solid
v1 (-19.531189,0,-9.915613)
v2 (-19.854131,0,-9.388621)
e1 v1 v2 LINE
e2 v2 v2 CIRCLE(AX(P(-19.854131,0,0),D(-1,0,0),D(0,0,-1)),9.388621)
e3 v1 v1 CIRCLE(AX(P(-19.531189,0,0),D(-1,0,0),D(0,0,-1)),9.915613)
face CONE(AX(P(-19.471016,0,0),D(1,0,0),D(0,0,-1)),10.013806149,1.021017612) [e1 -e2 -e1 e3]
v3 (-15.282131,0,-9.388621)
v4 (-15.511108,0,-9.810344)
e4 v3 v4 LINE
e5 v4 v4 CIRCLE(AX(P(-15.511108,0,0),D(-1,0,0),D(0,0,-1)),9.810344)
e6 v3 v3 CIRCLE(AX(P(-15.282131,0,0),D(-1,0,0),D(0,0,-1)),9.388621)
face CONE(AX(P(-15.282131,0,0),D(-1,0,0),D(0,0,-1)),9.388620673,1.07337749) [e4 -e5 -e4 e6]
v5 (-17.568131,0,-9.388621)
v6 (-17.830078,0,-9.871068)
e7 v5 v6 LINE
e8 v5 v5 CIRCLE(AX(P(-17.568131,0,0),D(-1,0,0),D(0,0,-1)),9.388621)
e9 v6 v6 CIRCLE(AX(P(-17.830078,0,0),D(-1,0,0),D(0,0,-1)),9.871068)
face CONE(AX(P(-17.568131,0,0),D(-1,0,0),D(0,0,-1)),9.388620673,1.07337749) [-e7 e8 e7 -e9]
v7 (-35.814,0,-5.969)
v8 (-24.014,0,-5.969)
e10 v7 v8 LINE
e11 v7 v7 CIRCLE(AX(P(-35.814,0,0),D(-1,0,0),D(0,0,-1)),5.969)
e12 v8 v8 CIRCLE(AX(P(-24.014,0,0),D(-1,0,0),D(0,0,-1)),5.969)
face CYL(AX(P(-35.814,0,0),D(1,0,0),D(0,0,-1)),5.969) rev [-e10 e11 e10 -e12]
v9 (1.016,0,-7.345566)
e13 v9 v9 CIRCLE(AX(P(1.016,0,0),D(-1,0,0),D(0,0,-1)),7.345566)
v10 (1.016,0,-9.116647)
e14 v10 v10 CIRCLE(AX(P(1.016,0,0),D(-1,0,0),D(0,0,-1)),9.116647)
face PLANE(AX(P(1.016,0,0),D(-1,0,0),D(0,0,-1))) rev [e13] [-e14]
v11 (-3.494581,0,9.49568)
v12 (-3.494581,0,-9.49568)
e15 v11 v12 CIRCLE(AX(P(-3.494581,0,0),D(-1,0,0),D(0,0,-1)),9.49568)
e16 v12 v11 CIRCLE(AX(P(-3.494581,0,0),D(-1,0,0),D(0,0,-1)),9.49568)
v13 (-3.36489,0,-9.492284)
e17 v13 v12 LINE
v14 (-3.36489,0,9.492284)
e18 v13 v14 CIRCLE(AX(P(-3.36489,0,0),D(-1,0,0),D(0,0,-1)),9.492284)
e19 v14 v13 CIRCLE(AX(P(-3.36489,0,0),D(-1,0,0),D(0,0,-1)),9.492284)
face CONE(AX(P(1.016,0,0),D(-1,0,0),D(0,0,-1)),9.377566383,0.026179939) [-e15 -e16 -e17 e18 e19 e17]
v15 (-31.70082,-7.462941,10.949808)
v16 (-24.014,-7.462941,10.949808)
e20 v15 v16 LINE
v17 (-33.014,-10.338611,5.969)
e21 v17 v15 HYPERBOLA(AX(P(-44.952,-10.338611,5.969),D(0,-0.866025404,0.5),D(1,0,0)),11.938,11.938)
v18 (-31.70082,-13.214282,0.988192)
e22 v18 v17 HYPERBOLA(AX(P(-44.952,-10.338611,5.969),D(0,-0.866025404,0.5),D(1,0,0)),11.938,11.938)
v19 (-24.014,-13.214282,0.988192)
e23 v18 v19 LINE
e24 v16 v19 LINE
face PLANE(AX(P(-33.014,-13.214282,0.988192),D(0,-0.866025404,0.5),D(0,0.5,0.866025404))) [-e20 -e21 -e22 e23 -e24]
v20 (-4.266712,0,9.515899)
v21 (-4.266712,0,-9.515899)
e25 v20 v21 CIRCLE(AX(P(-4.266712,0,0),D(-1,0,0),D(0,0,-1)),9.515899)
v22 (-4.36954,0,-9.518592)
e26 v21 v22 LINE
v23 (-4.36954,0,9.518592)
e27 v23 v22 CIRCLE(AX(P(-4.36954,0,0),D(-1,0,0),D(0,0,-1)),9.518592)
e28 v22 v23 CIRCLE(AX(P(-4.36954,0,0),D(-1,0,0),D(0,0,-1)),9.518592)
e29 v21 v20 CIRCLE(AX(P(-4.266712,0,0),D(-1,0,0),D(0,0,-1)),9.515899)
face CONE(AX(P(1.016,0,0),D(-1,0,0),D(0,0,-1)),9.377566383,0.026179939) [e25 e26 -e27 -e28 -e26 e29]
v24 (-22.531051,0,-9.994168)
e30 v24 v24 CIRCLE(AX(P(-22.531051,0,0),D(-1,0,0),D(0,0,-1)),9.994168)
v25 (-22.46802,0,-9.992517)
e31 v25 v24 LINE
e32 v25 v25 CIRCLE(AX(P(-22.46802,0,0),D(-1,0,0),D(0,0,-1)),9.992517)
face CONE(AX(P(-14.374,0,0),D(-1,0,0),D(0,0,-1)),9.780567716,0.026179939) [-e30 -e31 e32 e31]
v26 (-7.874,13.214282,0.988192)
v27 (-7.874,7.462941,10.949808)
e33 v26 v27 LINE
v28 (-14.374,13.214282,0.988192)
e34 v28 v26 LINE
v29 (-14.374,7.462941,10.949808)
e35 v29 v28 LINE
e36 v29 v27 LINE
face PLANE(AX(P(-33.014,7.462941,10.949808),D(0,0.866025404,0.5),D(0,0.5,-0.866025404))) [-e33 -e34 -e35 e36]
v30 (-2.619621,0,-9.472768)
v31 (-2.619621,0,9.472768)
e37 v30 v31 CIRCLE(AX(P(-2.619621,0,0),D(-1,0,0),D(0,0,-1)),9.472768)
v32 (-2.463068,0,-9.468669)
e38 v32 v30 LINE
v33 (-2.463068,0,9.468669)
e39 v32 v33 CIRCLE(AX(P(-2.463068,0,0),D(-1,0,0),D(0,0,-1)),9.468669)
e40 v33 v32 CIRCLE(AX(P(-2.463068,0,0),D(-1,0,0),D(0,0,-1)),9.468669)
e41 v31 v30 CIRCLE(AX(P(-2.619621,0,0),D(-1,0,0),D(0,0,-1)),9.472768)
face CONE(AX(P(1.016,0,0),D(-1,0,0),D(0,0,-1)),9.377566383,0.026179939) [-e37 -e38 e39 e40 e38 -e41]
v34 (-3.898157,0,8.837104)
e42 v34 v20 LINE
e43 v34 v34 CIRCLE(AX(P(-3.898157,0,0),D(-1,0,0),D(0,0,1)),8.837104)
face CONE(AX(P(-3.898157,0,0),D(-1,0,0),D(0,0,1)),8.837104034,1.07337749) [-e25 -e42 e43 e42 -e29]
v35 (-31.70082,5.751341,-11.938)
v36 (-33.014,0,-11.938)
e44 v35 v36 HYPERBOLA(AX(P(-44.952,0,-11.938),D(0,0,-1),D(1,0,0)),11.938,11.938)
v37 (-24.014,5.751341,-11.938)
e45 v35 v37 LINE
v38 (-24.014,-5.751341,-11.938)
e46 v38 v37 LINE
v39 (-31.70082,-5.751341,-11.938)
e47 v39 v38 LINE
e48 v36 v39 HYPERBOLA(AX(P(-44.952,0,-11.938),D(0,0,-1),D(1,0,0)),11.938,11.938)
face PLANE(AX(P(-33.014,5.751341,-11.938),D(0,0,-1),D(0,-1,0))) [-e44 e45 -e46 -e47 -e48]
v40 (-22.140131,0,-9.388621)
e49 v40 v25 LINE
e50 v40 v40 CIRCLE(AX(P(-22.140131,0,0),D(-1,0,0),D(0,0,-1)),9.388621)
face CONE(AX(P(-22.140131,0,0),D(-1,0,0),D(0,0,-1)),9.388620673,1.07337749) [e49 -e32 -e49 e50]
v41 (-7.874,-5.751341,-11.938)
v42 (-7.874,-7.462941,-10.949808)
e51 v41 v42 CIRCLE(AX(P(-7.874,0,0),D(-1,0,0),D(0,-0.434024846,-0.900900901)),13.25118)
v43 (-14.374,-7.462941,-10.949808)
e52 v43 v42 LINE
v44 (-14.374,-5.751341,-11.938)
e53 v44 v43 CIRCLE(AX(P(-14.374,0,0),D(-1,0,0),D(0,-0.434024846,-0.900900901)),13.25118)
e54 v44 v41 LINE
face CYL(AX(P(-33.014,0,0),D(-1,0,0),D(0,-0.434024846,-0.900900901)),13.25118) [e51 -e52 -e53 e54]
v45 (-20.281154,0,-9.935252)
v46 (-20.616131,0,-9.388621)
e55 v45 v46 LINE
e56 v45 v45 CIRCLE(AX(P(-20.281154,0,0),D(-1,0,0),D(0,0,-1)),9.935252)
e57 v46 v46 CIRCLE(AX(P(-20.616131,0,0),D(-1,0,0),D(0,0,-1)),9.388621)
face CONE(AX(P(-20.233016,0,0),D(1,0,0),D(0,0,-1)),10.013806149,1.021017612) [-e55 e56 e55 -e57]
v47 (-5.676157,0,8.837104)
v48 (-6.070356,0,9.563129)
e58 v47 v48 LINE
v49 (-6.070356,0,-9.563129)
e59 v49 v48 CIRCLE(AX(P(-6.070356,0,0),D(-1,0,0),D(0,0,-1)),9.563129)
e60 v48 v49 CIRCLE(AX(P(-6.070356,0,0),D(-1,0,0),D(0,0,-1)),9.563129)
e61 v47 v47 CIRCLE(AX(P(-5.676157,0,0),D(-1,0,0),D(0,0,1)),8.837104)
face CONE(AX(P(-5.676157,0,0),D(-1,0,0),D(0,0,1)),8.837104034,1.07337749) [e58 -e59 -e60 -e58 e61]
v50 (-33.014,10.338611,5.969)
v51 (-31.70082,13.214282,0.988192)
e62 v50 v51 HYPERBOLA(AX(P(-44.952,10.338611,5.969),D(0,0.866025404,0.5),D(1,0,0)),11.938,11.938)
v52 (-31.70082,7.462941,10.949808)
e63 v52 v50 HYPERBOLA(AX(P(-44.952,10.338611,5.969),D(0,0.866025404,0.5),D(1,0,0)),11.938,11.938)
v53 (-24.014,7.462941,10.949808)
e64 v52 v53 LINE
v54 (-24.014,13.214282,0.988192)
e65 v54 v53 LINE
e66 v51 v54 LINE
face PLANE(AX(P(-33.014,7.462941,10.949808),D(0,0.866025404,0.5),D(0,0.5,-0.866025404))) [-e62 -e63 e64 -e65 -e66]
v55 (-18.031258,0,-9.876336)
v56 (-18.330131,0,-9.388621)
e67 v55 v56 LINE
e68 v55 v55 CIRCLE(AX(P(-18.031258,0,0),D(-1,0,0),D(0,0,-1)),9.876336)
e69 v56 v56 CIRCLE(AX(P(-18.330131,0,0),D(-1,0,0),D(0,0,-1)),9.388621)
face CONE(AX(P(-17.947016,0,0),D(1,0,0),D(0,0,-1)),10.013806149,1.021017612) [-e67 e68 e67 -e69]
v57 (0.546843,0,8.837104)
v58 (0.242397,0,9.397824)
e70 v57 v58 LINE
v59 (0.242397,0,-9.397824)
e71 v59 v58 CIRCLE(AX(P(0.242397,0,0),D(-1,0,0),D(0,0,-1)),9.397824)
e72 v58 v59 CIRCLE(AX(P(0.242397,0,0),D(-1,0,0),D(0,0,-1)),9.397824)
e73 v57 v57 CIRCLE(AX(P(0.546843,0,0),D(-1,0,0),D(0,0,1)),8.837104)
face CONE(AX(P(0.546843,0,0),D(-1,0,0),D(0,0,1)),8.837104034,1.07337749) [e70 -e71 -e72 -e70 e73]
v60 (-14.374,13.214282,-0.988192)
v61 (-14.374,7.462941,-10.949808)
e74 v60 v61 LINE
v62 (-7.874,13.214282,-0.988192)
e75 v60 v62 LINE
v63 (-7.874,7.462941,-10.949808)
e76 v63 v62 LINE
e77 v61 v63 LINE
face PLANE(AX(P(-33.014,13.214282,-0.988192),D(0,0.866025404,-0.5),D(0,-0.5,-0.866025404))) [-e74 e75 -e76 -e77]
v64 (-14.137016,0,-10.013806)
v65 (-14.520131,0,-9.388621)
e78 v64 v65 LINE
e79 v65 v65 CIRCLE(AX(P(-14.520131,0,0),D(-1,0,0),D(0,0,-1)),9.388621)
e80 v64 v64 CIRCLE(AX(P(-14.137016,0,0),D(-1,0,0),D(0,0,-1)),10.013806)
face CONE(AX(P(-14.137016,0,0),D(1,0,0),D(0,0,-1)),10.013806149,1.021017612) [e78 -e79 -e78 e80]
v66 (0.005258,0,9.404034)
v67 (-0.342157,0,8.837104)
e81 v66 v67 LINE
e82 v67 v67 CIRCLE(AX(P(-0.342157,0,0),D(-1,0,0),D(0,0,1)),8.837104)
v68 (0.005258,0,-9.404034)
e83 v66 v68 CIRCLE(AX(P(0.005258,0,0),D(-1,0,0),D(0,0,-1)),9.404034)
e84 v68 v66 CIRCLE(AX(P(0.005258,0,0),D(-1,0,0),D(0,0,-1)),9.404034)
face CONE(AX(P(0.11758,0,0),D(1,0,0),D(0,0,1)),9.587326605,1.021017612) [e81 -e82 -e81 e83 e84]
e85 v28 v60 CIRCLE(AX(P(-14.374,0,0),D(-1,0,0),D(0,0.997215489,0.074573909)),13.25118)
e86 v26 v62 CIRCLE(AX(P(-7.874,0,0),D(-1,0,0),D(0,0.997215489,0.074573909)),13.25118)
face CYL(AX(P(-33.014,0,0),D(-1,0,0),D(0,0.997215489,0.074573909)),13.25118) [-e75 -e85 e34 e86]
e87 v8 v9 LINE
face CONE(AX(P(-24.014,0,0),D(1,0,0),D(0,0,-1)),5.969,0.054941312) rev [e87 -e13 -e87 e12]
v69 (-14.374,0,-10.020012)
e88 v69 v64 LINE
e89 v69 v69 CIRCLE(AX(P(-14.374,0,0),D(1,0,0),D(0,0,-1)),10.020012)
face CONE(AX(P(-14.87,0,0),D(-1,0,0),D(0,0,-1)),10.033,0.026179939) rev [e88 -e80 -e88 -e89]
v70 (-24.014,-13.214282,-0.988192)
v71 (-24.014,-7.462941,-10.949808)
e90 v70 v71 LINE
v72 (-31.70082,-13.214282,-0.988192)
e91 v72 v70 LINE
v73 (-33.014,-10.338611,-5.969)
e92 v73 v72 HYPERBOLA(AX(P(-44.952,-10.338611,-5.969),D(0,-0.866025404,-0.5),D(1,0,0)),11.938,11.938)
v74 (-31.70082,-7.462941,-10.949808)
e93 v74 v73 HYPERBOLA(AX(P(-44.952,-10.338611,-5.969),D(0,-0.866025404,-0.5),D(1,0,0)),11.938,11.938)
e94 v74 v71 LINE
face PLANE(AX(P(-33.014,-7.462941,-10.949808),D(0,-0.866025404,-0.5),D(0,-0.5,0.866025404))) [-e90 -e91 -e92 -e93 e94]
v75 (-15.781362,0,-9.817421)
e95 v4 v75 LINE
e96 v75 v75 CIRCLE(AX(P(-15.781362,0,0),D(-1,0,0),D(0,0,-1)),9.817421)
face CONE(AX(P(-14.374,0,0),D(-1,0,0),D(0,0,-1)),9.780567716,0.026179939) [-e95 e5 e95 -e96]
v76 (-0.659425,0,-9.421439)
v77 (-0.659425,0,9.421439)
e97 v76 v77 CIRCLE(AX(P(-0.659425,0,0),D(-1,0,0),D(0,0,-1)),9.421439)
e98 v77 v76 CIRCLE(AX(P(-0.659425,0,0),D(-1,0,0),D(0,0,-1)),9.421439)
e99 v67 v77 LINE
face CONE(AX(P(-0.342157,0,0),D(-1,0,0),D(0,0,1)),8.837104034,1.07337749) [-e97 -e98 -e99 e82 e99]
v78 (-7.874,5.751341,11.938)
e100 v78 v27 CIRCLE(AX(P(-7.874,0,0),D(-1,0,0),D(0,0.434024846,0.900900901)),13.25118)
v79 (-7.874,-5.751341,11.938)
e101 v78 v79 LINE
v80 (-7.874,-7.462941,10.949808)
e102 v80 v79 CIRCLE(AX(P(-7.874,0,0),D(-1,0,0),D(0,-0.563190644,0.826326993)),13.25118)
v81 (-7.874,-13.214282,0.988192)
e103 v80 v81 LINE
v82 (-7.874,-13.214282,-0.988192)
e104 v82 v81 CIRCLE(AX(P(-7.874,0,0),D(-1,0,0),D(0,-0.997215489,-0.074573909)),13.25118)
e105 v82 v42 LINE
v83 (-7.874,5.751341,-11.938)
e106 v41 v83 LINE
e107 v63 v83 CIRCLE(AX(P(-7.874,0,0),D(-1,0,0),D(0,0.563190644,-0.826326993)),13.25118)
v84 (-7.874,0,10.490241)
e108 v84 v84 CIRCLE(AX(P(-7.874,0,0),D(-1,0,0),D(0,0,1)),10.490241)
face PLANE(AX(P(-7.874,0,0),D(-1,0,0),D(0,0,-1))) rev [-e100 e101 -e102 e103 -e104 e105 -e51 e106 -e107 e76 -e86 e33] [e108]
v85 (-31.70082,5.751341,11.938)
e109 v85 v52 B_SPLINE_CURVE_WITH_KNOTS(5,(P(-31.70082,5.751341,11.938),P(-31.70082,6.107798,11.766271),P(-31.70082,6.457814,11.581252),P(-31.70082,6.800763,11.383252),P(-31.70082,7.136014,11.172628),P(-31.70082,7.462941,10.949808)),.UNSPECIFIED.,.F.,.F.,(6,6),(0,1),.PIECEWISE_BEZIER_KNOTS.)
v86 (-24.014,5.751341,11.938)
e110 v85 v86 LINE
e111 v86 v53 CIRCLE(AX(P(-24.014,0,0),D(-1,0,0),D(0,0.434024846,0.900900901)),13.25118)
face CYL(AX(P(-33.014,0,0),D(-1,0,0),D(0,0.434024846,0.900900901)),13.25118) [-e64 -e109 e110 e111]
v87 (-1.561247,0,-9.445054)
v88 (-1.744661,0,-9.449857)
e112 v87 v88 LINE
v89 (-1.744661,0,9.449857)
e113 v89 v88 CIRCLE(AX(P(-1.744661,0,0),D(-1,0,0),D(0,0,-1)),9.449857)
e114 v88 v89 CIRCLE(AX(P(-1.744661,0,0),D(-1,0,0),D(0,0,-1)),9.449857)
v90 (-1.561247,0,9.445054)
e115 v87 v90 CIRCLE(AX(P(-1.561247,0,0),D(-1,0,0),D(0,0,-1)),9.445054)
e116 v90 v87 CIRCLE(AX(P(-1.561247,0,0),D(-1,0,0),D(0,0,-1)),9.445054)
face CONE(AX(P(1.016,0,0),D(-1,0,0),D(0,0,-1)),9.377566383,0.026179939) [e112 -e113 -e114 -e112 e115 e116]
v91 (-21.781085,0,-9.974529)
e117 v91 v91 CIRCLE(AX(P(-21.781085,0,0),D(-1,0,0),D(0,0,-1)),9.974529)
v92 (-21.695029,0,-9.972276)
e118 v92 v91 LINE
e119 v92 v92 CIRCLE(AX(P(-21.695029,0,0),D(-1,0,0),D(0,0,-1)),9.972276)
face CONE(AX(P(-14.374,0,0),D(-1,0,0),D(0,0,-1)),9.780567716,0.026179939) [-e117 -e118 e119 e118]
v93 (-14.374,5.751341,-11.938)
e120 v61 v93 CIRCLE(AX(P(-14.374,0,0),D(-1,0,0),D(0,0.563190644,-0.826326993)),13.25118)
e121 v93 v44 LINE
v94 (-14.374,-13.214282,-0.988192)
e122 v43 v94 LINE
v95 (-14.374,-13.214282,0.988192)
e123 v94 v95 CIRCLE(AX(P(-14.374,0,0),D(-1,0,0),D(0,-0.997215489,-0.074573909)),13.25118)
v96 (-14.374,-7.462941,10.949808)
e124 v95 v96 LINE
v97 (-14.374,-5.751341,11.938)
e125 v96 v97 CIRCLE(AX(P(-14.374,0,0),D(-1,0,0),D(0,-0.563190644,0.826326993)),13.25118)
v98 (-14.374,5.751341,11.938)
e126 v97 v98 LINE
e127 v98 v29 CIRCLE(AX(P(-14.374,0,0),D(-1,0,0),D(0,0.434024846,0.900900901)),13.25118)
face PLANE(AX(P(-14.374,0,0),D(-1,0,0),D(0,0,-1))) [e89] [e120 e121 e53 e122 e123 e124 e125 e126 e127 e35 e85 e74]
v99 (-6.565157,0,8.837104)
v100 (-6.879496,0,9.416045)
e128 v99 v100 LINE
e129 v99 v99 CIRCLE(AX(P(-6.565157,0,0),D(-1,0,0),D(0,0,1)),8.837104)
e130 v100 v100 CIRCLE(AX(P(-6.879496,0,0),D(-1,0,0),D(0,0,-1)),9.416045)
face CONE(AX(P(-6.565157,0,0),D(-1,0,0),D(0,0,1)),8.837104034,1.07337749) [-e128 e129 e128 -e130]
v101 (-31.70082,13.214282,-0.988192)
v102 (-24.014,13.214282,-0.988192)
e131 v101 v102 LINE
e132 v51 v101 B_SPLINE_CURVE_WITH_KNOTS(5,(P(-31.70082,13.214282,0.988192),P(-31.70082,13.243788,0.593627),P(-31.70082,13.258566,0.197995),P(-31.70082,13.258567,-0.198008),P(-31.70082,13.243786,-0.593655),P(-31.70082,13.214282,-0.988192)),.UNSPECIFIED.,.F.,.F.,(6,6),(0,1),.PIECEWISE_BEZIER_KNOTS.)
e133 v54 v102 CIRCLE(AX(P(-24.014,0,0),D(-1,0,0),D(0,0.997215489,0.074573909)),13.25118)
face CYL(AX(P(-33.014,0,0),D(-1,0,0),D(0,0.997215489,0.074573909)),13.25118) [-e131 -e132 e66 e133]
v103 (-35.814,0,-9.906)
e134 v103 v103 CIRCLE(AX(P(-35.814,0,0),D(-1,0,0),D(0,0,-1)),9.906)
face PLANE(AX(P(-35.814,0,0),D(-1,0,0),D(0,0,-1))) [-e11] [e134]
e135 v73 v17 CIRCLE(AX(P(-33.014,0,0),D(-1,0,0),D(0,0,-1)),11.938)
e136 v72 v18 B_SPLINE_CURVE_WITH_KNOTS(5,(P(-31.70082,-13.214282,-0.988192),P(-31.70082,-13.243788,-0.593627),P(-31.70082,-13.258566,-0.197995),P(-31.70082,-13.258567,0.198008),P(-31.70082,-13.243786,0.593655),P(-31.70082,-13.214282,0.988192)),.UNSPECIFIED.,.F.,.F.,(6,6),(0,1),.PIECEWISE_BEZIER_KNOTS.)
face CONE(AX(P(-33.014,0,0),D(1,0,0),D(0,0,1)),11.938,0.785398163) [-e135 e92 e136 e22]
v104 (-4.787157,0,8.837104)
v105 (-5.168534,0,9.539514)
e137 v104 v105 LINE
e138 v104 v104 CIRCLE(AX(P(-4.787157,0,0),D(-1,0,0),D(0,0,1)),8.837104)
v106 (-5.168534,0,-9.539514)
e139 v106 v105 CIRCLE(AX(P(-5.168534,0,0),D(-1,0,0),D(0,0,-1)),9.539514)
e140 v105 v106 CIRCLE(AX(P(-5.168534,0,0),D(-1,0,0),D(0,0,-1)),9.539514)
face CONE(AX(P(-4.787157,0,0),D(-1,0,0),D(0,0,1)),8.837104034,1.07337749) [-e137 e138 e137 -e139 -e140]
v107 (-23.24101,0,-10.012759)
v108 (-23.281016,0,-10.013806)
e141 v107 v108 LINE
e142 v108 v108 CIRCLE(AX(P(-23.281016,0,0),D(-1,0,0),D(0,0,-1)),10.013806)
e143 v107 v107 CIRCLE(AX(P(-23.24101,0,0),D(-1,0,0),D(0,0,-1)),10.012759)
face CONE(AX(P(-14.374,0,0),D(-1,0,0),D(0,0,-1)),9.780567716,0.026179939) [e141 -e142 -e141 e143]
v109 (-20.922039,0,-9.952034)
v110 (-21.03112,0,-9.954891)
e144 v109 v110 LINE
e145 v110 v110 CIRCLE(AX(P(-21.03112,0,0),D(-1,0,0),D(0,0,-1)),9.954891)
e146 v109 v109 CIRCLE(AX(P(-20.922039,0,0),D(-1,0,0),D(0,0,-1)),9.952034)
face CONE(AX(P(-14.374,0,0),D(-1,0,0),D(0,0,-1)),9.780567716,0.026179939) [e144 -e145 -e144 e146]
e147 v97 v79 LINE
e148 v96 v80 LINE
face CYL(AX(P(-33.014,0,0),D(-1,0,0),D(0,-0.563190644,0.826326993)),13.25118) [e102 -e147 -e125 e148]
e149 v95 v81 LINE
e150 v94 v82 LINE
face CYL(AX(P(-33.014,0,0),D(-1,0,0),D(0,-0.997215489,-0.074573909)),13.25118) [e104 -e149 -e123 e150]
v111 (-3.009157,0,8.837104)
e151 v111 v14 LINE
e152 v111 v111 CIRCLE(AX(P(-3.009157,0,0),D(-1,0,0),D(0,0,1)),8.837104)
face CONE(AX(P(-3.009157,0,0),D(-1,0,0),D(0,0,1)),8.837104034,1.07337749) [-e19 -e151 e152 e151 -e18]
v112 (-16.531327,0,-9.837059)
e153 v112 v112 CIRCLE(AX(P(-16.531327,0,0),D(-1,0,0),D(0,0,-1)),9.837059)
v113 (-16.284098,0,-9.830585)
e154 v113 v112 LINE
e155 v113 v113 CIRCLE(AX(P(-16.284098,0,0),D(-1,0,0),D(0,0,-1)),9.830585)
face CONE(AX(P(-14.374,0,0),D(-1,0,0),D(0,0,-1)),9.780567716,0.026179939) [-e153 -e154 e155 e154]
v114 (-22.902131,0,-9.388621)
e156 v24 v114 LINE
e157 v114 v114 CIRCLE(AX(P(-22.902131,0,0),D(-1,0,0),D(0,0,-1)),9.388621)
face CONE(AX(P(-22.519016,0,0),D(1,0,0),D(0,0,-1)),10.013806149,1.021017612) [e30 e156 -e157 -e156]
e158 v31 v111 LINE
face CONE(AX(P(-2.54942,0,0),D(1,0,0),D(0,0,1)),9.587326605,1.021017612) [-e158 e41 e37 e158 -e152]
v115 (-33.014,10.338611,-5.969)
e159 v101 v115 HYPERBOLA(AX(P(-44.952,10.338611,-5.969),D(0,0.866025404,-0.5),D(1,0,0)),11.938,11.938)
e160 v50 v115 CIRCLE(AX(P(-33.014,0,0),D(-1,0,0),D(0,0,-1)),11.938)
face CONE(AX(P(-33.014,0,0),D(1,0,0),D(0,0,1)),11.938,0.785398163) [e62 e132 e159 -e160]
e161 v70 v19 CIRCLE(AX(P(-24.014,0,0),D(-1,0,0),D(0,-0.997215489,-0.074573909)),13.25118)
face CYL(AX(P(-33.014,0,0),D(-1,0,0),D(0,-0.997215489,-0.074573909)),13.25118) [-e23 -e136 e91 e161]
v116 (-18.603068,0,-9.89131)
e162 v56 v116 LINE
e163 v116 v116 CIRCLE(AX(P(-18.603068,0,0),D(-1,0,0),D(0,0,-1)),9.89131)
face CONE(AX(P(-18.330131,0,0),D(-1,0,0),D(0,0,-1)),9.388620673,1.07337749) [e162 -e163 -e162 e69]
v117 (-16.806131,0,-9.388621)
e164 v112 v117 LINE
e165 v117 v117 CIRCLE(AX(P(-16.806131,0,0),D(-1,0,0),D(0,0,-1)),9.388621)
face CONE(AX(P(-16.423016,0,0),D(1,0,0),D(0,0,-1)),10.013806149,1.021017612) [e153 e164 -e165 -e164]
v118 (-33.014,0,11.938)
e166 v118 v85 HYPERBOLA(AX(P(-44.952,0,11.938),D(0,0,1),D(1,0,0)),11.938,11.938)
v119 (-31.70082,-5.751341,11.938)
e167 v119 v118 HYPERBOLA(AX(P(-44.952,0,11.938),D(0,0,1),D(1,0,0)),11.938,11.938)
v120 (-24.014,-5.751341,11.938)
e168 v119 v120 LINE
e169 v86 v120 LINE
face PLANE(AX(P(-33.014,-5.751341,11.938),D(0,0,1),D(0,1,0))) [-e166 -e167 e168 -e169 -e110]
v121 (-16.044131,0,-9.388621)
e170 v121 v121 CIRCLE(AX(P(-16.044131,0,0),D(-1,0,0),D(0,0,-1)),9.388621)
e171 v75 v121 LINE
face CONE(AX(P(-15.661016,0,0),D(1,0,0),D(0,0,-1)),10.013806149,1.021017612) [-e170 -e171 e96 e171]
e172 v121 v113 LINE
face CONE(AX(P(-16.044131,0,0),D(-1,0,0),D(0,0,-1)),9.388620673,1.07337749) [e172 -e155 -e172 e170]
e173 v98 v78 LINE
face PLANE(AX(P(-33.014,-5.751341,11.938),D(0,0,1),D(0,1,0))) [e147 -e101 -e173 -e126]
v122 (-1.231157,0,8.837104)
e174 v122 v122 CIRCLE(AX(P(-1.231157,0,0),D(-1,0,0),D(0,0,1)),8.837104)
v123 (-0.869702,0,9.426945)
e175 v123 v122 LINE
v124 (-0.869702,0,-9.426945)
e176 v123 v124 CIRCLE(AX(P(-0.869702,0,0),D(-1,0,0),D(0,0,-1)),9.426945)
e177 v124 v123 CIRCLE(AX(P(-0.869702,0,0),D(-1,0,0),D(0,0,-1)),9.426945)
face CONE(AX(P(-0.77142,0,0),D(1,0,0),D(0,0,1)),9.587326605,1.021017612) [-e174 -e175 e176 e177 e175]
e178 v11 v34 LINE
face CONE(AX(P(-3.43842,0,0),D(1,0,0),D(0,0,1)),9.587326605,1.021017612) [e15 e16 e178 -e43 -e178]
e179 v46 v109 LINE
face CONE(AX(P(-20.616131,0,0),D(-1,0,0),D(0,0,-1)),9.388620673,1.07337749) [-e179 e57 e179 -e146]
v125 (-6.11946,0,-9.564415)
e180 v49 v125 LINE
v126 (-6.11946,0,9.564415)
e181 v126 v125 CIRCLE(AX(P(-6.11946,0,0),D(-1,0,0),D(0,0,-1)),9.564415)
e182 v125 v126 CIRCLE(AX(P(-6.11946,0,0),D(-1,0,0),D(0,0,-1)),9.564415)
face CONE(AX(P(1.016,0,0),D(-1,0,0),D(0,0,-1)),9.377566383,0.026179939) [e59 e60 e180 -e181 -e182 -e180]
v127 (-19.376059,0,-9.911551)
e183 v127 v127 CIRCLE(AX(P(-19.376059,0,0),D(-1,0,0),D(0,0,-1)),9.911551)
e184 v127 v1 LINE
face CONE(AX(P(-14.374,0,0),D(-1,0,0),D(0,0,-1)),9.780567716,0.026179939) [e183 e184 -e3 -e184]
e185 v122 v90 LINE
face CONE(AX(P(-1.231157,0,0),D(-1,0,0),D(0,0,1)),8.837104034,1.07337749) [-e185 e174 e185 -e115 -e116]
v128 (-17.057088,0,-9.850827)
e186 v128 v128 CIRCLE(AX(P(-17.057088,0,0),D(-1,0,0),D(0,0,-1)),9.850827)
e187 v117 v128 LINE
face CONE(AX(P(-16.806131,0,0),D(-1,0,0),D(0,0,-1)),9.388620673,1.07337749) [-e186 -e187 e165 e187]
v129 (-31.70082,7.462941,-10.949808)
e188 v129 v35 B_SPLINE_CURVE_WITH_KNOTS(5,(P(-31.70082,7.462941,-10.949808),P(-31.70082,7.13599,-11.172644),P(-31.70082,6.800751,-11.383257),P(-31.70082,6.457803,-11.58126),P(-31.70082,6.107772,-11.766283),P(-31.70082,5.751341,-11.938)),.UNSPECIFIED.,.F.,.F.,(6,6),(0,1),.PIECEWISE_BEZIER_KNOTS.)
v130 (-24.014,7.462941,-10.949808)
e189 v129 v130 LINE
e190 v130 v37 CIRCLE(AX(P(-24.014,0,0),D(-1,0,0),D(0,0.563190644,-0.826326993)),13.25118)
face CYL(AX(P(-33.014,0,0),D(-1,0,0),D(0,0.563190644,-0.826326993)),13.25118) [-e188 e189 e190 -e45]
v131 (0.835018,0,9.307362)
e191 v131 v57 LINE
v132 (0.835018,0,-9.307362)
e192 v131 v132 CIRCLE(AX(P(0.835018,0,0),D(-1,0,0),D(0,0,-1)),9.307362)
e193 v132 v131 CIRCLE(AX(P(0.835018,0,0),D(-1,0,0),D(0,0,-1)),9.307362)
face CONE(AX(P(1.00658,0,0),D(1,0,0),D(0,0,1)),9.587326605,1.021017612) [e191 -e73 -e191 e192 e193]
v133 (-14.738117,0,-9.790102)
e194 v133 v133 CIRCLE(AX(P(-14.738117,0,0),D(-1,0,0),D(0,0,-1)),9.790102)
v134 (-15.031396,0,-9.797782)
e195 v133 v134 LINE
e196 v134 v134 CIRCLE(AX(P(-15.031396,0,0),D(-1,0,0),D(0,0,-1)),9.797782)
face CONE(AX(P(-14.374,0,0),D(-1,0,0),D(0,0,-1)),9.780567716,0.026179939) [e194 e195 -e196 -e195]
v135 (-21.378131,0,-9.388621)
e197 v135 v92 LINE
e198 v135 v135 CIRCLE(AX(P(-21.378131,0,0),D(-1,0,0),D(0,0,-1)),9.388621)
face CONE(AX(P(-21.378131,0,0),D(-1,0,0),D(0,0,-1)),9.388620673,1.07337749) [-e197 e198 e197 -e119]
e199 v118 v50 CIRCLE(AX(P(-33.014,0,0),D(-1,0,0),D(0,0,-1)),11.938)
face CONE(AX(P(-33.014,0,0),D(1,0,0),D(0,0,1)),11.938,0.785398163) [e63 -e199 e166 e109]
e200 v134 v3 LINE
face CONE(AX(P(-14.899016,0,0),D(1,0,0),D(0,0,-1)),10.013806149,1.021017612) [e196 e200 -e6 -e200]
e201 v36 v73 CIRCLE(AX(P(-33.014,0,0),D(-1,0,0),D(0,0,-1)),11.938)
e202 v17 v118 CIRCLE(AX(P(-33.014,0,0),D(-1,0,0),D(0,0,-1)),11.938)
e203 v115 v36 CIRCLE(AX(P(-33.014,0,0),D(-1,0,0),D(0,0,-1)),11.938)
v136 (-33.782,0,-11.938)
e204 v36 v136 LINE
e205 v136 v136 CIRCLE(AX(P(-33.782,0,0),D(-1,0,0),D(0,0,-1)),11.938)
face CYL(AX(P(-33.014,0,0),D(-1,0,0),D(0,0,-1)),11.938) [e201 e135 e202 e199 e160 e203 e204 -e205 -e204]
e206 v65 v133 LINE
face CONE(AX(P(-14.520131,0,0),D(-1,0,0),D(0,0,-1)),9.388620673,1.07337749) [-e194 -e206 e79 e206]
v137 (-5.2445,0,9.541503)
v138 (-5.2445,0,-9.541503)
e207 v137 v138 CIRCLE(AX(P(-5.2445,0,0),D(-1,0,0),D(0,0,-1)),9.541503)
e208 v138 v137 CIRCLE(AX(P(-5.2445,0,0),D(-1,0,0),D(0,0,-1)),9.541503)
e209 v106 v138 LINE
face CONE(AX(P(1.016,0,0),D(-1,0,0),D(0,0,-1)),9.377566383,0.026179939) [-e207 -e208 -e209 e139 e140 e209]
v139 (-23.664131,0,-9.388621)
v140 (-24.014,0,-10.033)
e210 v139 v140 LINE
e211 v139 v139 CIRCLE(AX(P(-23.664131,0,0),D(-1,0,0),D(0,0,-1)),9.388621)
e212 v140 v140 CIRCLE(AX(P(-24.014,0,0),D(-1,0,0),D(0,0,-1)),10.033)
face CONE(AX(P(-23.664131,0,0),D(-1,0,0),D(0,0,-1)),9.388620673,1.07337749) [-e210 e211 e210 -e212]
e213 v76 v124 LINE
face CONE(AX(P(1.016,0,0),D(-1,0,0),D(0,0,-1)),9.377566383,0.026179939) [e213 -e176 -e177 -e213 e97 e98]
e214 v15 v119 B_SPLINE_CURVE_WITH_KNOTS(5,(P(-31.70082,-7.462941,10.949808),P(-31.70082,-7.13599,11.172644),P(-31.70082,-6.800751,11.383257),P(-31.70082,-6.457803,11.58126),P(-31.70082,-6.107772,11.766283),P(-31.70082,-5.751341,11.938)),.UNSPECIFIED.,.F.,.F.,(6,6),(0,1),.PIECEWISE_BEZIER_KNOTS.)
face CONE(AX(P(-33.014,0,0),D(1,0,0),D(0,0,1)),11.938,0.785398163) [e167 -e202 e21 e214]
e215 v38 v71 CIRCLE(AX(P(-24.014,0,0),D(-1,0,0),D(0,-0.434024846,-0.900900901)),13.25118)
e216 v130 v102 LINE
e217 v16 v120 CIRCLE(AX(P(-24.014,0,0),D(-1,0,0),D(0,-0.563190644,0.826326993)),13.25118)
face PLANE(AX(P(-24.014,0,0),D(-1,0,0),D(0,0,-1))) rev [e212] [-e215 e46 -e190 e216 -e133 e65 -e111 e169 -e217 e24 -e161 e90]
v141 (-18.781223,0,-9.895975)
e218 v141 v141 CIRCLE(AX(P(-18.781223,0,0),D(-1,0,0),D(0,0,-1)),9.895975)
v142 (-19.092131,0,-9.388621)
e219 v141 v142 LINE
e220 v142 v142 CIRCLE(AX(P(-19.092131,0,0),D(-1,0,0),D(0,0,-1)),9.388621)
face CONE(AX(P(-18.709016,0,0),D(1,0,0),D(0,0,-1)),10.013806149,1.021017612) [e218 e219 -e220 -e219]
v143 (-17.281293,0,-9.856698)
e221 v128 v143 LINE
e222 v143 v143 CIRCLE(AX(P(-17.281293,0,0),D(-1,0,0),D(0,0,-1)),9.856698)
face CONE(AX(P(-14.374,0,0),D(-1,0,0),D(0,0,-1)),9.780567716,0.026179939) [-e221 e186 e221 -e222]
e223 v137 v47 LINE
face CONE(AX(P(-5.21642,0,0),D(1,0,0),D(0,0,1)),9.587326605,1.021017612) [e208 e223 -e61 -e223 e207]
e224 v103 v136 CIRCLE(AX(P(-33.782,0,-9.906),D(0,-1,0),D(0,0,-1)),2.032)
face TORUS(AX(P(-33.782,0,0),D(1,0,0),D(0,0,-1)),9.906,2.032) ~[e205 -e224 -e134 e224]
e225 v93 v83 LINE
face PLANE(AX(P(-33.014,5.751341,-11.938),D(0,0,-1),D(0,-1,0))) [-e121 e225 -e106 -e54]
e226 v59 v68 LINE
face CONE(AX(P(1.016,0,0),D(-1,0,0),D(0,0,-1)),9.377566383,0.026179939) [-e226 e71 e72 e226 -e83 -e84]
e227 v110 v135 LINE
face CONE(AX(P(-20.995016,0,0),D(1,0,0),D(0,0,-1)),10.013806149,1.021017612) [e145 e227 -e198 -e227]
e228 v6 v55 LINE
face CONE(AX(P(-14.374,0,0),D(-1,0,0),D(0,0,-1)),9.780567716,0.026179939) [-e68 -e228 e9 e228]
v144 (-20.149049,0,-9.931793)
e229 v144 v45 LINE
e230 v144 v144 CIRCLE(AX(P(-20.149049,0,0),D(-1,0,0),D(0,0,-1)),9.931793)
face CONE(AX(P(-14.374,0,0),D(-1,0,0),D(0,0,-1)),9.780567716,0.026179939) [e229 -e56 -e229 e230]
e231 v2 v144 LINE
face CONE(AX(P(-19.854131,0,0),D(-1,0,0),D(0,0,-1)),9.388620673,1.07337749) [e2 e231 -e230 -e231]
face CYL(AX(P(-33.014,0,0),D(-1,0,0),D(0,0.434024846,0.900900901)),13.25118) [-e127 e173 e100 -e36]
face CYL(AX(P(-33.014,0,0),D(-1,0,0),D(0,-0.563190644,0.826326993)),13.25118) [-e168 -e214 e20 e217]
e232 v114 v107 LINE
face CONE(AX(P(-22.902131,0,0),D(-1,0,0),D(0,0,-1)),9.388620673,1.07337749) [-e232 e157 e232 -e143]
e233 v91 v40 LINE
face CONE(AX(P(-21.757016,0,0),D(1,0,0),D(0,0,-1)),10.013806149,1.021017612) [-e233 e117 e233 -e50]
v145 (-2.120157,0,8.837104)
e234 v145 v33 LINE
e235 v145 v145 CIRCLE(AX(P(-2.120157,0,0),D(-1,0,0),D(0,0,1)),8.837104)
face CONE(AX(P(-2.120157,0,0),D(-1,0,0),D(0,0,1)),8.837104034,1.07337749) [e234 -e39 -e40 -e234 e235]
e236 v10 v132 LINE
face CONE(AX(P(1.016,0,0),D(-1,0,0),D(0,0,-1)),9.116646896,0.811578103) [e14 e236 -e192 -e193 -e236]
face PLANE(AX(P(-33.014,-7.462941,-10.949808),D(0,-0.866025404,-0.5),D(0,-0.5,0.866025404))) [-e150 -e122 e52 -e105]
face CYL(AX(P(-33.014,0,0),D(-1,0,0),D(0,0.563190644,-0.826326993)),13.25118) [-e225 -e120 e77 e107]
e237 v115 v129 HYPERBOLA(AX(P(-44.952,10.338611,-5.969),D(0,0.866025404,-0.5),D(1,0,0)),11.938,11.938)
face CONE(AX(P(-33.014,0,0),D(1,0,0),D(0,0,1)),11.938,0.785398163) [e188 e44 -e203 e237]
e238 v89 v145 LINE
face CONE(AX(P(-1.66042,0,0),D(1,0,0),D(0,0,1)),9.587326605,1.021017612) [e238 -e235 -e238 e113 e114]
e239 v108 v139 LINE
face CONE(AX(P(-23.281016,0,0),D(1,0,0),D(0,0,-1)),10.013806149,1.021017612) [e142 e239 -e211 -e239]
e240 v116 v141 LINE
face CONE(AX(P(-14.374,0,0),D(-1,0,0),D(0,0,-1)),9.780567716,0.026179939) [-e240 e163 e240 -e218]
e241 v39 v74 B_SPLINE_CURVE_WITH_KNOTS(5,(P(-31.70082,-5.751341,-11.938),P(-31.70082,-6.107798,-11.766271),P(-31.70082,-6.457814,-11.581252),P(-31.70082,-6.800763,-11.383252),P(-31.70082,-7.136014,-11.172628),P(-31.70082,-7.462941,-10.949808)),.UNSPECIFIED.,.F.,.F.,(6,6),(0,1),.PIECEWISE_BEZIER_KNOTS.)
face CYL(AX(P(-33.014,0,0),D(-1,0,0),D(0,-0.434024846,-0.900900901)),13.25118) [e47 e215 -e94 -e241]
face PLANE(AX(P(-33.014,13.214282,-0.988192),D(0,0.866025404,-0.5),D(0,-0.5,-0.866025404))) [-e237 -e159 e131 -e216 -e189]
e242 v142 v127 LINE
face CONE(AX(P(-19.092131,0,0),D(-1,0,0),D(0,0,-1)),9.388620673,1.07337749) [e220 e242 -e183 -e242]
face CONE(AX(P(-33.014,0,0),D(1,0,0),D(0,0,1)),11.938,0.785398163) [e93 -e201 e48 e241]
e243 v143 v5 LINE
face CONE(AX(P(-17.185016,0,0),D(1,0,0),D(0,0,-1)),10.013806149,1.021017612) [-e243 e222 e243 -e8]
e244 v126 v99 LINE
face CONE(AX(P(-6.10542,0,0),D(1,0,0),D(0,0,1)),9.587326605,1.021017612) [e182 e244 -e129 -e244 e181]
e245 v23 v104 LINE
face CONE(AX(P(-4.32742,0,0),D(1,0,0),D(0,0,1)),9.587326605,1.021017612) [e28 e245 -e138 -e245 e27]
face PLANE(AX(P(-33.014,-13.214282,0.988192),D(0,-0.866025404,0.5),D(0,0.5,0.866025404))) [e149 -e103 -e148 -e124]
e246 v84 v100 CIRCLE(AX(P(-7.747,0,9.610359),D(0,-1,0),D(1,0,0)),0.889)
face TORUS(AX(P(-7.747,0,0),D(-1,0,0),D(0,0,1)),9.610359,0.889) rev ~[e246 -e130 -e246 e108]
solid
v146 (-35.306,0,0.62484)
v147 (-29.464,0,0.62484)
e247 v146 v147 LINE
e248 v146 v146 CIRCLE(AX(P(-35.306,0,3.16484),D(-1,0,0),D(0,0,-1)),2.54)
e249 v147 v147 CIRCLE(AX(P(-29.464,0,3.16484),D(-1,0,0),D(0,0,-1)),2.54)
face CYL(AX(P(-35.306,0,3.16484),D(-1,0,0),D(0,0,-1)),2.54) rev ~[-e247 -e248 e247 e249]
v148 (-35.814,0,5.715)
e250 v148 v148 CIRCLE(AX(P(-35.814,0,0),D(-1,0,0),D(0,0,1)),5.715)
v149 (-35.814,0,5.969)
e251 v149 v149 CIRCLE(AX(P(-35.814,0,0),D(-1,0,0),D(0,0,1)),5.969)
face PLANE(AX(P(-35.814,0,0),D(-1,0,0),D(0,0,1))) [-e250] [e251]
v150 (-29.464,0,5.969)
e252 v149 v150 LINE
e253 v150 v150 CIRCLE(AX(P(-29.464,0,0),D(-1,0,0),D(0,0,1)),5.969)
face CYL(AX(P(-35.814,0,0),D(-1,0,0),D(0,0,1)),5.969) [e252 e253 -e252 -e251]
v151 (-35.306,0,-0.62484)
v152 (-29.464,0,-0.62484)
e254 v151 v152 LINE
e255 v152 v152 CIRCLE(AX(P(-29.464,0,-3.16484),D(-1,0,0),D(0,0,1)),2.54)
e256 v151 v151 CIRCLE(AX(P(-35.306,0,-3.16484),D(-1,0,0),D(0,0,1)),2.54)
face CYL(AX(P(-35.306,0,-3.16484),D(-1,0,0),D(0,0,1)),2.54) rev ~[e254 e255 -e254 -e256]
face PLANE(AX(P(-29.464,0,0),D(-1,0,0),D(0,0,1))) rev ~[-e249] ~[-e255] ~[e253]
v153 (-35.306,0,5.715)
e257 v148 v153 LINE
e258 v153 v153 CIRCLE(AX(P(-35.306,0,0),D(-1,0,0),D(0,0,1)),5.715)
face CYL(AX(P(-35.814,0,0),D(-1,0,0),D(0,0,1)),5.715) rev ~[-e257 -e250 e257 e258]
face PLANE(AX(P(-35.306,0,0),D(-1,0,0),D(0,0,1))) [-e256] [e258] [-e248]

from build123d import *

# Parameters (mm, degrees)
SKETCH12_OUTSIDE_W = 65.136
SKETCH12_OUTSIDE_H = 65.136
CUT_EXTRUDE2_DEPTH = 35.03
FILLET4_R          = 2.032
SKETCH19_OUTSIDE_W = 40.13
SKETCH19_OUTSIDE_H = 42.756
SKETCH19_OUTSIDE_R = 11.938
CUT_EXTRUDE3_DEPTH = 1.999996
CUT_EXTRUDE3_DRAFT = -45
CHAMFER1_SIZE      = 0.260919487
CHAMFER1_SIZE2     = 0.254
SKETCH21_R         = 5.969
PLUG_DEPTH         = 6.35
SKETCH22_R         = 5.715
CUT_EXTRUDE4_DEPTH = 0.508
SKETCH27_R         = 2.54
PLUGHOLES_DEPTH    = 37.322
CIRPATTERN1_COUNT  = 2
LPATTERN1_COUNT    = 13
LPATTERN1_PITCH    = 0.762
LPATTERN2_COUNT    = 10
LPATTERN2_PITCH    = 0.889
SKETCH32_R         = 0.889


with BuildPart() as part:
    # Sketch10 → Revolve2 (revolve)
    with BuildSketch(Plane.XY, mode=Mode.PRIVATE) as revolve2_sk:
        Polygon((-35.814, 5.969), (-24.014, 5.969), (1.016, 7.345566383), (1.016, 9.377566383), (-7.874, 9.610359226), (-7.874, 23.876), (-14.374, 23.876), (-14.374, 9.780567716), (-24.014, 10.033), (-24.014, 23.876), (-33.014, 23.876), (-33.014, 11.938), (-35.814, 11.938), align=None)
    revolve(revolve2_sk.sketch.rotate(Axis((0, 0, 0), (-1, 0, 0)), 90), axis=Axis((0, 0, 0), (-1, 0, 0)))  # turned: the seam where the file's is

    # Sketch12 outside → Cut-Extrude2 (cut, through all)
    with BuildSketch(Plane.ZY.offset(33.014)):
        Rectangle(SKETCH12_OUTSIDE_W, SKETCH12_OUTSIDE_H)
        with BuildLine():
            Line((-0.98819228, 13.214281948), (-10.94980772, 7.462940592))
            ThreePointArc((-10.94980772, 7.462940592), (-11.47585851, 6.62559), (-11.938, 5.751341356))
            Line((-11.938, 5.751341356), (-11.938, -5.751341356))
            ThreePointArc((-11.938, -5.751341356), (-11.47585851, -6.62559), (-10.94980772, -7.462940592))
            Line((-10.94980772, -7.462940592), (-0.98819228, -13.214281948))
            ThreePointArc((-0.98819228, -13.214281948), (0, -13.25118), (0.98819228, -13.214281948))
            Line((0.98819228, -13.214281948), (10.94980772, -7.462940592))
            ThreePointArc((10.94980772, -7.462940592), (11.47585851, -6.62559), (11.938, -5.751341356))
            Line((11.938, -5.751341356), (11.938, 5.751341356))
            ThreePointArc((11.938, 5.751341356), (11.47585851, 6.62559), (10.94980772, 7.462940592))
            Line((10.94980772, 7.462940592), (0.98819228, 13.214281948))
            ThreePointArc((0.98819228, 13.214281948), (0, 13.25118), (-0.98819228, 13.214281948))
        make_face(mode=Mode.SUBTRACT)
    extrude(amount=-CUT_EXTRUDE2_DEPTH, mode=Mode.SUBTRACT)

    # Fillet4
    fillet4_edges = [part.edges().sort_by_distance(p)[0] for p in [
        (-35.814, 0, 11.938),
    ]]
    fillet(fillet4_edges, radius=FILLET4_R)


with BuildPart() as cut_extrude3_tool:
    # Sketch19 outside → Cut-Extrude3 (with draft: the straight prism first)
    with BuildSketch(Plane.ZY.offset(33.014)):
        Rectangle(SKETCH19_OUTSIDE_W, SKETCH19_OUTSIDE_H)
        Circle(SKETCH19_OUTSIDE_R, mode=Mode.SUBTRACT)
    extrude(amount=-CUT_EXTRUDE3_DEPTH)
    # Cut-Extrude3: the draft: its side faces are tilted about the plane it starts from
    cut_extrude3_sides = [cut_extrude3_tool.faces().sort_by_distance(p)[0] for p in [
        (-32.014002, -21.378, 0),
        (-32.014002, 0, 20.065),
        (-32.014002, 21.378, 0),
        (-32.014002, 0, -20.065),
        (-32.014002, 0, -11.938),
    ]]
    draft(cut_extrude3_sides, Plane.ZY.offset(33.014), CUT_EXTRUDE3_DRAFT)


with BuildPart() as part_1:
    add(part.part)

    # Cut-Extrude3: cut by cut_extrude3_tool
    add(cut_extrude3_tool.part, mode=Mode.SUBTRACT)

    # Chamfer1
    chamfer1_edges = [part_1.edges().sort_by_distance(p)[0] for p in [
        (1.016, 0, 9.377566383),
    ]]
    chamfer1_side = [part_1.faces().sort_by_distance(p)[0] for p in [
        (1.016, 0, 7.610804014),
    ]]
    chamfer(chamfer1_edges, length=CHAMFER1_SIZE, length2=CHAMFER1_SIZE2, reference=chamfer1_side[0])

    # Sketch29 → Cut-Revolve1 (revolve, cut)
    with BuildSketch(Plane.XY, mode=Mode.PRIVATE) as cut_revolve1_sk:
        Polygon((-24.014, 10.033), (-23.281016419, 10.013806149), (-23.664130572, 9.388620673), align=None)
    cut_revolve1 = revolve(cut_revolve1_sk.sketch.rotate(Axis((0, 0, 0), (-1, 0, 0)), 90), axis=Axis((0, 0, 0), (-1, 0, 0)), mode=Mode.SUBTRACT)  # turned: the seam where the file's is

    # LPattern1: Cut-Revolve1 ×13
    with Locations(*[(i * LPATTERN1_PITCH, 0, 0) for i in range(1, LPATTERN1_COUNT)]):
        add(cut_revolve1, mode=Mode.SUBTRACT)

    # Sketch30 → Cut-Revolve2 (revolve, cut)
    with BuildSketch(Plane.XY, mode=Mode.PRIVATE) as cut_revolve2_sk:
        Polygon((-7.874, 9.610359226), (-6.994419703, 9.587326605), (-7.454156686, 8.837104034), align=None)
    cut_revolve2 = revolve(cut_revolve2_sk.sketch.rotate(Axis((0, 0, 0), (-1, 0, 0)), 270), axis=Axis((0, 0, 0), (-1, 0, 0)), mode=Mode.SUBTRACT)  # turned: the seam where the file's is

    # LPattern2: Cut-Revolve2 ×10
    with Locations(*[(i * LPATTERN2_PITCH, 0, 0) for i in range(1, LPATTERN2_COUNT)]):
        add(cut_revolve2, mode=Mode.SUBTRACT)

    # Sketch32 → Cut-Revolve3 (revolve, cut)
    with BuildSketch(Plane.XY, mode=Mode.PRIVATE) as cut_revolve3_sk:
        with Locations((-7.747, 9.610359226)):
            Circle(SKETCH32_R)
    revolve(cut_revolve3_sk.sketch.rotate(Axis((0, 0, 0), (-1, 0, 0)), 270), axis=Axis((0, 0, 0), (-1, 0, 0)), mode=Mode.SUBTRACT)  # turned: the seam where the file's is


with BuildPart() as body_2:
    # Sketch21 → plug (new body)
    with BuildSketch(Plane.ZY.offset(35.814)):
        Circle(SKETCH21_R)
    extrude(amount=-PLUG_DEPTH)

    # Sketch22 → Cut-Extrude4 (cut)
    with BuildSketch(Plane.ZY.offset(35.814)):
        Circle(SKETCH22_R)
    extrude(amount=-CUT_EXTRUDE4_DEPTH, mode=Mode.SUBTRACT)

    # Sketch27 → plugholes (cut, through all)
    with BuildSketch(Plane.ZY.offset(35.306)):
        with Locations((-3.16484, 0)):
            Circle(SKETCH27_R)
    plugholes = extrude(amount=-PLUGHOLES_DEPTH, mode=Mode.SUBTRACT)

    # CirPattern1: plugholes ×2 about axis
    cirpattern1_axis = Axis((0, 0, 0), (1, 0, 0))
    for i in range(1, CIRPATTERN1_COUNT):
        add(plugholes.rotate(cirpattern1_axis, i * 360 / CIRPATTERN1_COUNT), mode=Mode.SUBTRACT)


solid = Compound([part_1.part, body_2.part])
